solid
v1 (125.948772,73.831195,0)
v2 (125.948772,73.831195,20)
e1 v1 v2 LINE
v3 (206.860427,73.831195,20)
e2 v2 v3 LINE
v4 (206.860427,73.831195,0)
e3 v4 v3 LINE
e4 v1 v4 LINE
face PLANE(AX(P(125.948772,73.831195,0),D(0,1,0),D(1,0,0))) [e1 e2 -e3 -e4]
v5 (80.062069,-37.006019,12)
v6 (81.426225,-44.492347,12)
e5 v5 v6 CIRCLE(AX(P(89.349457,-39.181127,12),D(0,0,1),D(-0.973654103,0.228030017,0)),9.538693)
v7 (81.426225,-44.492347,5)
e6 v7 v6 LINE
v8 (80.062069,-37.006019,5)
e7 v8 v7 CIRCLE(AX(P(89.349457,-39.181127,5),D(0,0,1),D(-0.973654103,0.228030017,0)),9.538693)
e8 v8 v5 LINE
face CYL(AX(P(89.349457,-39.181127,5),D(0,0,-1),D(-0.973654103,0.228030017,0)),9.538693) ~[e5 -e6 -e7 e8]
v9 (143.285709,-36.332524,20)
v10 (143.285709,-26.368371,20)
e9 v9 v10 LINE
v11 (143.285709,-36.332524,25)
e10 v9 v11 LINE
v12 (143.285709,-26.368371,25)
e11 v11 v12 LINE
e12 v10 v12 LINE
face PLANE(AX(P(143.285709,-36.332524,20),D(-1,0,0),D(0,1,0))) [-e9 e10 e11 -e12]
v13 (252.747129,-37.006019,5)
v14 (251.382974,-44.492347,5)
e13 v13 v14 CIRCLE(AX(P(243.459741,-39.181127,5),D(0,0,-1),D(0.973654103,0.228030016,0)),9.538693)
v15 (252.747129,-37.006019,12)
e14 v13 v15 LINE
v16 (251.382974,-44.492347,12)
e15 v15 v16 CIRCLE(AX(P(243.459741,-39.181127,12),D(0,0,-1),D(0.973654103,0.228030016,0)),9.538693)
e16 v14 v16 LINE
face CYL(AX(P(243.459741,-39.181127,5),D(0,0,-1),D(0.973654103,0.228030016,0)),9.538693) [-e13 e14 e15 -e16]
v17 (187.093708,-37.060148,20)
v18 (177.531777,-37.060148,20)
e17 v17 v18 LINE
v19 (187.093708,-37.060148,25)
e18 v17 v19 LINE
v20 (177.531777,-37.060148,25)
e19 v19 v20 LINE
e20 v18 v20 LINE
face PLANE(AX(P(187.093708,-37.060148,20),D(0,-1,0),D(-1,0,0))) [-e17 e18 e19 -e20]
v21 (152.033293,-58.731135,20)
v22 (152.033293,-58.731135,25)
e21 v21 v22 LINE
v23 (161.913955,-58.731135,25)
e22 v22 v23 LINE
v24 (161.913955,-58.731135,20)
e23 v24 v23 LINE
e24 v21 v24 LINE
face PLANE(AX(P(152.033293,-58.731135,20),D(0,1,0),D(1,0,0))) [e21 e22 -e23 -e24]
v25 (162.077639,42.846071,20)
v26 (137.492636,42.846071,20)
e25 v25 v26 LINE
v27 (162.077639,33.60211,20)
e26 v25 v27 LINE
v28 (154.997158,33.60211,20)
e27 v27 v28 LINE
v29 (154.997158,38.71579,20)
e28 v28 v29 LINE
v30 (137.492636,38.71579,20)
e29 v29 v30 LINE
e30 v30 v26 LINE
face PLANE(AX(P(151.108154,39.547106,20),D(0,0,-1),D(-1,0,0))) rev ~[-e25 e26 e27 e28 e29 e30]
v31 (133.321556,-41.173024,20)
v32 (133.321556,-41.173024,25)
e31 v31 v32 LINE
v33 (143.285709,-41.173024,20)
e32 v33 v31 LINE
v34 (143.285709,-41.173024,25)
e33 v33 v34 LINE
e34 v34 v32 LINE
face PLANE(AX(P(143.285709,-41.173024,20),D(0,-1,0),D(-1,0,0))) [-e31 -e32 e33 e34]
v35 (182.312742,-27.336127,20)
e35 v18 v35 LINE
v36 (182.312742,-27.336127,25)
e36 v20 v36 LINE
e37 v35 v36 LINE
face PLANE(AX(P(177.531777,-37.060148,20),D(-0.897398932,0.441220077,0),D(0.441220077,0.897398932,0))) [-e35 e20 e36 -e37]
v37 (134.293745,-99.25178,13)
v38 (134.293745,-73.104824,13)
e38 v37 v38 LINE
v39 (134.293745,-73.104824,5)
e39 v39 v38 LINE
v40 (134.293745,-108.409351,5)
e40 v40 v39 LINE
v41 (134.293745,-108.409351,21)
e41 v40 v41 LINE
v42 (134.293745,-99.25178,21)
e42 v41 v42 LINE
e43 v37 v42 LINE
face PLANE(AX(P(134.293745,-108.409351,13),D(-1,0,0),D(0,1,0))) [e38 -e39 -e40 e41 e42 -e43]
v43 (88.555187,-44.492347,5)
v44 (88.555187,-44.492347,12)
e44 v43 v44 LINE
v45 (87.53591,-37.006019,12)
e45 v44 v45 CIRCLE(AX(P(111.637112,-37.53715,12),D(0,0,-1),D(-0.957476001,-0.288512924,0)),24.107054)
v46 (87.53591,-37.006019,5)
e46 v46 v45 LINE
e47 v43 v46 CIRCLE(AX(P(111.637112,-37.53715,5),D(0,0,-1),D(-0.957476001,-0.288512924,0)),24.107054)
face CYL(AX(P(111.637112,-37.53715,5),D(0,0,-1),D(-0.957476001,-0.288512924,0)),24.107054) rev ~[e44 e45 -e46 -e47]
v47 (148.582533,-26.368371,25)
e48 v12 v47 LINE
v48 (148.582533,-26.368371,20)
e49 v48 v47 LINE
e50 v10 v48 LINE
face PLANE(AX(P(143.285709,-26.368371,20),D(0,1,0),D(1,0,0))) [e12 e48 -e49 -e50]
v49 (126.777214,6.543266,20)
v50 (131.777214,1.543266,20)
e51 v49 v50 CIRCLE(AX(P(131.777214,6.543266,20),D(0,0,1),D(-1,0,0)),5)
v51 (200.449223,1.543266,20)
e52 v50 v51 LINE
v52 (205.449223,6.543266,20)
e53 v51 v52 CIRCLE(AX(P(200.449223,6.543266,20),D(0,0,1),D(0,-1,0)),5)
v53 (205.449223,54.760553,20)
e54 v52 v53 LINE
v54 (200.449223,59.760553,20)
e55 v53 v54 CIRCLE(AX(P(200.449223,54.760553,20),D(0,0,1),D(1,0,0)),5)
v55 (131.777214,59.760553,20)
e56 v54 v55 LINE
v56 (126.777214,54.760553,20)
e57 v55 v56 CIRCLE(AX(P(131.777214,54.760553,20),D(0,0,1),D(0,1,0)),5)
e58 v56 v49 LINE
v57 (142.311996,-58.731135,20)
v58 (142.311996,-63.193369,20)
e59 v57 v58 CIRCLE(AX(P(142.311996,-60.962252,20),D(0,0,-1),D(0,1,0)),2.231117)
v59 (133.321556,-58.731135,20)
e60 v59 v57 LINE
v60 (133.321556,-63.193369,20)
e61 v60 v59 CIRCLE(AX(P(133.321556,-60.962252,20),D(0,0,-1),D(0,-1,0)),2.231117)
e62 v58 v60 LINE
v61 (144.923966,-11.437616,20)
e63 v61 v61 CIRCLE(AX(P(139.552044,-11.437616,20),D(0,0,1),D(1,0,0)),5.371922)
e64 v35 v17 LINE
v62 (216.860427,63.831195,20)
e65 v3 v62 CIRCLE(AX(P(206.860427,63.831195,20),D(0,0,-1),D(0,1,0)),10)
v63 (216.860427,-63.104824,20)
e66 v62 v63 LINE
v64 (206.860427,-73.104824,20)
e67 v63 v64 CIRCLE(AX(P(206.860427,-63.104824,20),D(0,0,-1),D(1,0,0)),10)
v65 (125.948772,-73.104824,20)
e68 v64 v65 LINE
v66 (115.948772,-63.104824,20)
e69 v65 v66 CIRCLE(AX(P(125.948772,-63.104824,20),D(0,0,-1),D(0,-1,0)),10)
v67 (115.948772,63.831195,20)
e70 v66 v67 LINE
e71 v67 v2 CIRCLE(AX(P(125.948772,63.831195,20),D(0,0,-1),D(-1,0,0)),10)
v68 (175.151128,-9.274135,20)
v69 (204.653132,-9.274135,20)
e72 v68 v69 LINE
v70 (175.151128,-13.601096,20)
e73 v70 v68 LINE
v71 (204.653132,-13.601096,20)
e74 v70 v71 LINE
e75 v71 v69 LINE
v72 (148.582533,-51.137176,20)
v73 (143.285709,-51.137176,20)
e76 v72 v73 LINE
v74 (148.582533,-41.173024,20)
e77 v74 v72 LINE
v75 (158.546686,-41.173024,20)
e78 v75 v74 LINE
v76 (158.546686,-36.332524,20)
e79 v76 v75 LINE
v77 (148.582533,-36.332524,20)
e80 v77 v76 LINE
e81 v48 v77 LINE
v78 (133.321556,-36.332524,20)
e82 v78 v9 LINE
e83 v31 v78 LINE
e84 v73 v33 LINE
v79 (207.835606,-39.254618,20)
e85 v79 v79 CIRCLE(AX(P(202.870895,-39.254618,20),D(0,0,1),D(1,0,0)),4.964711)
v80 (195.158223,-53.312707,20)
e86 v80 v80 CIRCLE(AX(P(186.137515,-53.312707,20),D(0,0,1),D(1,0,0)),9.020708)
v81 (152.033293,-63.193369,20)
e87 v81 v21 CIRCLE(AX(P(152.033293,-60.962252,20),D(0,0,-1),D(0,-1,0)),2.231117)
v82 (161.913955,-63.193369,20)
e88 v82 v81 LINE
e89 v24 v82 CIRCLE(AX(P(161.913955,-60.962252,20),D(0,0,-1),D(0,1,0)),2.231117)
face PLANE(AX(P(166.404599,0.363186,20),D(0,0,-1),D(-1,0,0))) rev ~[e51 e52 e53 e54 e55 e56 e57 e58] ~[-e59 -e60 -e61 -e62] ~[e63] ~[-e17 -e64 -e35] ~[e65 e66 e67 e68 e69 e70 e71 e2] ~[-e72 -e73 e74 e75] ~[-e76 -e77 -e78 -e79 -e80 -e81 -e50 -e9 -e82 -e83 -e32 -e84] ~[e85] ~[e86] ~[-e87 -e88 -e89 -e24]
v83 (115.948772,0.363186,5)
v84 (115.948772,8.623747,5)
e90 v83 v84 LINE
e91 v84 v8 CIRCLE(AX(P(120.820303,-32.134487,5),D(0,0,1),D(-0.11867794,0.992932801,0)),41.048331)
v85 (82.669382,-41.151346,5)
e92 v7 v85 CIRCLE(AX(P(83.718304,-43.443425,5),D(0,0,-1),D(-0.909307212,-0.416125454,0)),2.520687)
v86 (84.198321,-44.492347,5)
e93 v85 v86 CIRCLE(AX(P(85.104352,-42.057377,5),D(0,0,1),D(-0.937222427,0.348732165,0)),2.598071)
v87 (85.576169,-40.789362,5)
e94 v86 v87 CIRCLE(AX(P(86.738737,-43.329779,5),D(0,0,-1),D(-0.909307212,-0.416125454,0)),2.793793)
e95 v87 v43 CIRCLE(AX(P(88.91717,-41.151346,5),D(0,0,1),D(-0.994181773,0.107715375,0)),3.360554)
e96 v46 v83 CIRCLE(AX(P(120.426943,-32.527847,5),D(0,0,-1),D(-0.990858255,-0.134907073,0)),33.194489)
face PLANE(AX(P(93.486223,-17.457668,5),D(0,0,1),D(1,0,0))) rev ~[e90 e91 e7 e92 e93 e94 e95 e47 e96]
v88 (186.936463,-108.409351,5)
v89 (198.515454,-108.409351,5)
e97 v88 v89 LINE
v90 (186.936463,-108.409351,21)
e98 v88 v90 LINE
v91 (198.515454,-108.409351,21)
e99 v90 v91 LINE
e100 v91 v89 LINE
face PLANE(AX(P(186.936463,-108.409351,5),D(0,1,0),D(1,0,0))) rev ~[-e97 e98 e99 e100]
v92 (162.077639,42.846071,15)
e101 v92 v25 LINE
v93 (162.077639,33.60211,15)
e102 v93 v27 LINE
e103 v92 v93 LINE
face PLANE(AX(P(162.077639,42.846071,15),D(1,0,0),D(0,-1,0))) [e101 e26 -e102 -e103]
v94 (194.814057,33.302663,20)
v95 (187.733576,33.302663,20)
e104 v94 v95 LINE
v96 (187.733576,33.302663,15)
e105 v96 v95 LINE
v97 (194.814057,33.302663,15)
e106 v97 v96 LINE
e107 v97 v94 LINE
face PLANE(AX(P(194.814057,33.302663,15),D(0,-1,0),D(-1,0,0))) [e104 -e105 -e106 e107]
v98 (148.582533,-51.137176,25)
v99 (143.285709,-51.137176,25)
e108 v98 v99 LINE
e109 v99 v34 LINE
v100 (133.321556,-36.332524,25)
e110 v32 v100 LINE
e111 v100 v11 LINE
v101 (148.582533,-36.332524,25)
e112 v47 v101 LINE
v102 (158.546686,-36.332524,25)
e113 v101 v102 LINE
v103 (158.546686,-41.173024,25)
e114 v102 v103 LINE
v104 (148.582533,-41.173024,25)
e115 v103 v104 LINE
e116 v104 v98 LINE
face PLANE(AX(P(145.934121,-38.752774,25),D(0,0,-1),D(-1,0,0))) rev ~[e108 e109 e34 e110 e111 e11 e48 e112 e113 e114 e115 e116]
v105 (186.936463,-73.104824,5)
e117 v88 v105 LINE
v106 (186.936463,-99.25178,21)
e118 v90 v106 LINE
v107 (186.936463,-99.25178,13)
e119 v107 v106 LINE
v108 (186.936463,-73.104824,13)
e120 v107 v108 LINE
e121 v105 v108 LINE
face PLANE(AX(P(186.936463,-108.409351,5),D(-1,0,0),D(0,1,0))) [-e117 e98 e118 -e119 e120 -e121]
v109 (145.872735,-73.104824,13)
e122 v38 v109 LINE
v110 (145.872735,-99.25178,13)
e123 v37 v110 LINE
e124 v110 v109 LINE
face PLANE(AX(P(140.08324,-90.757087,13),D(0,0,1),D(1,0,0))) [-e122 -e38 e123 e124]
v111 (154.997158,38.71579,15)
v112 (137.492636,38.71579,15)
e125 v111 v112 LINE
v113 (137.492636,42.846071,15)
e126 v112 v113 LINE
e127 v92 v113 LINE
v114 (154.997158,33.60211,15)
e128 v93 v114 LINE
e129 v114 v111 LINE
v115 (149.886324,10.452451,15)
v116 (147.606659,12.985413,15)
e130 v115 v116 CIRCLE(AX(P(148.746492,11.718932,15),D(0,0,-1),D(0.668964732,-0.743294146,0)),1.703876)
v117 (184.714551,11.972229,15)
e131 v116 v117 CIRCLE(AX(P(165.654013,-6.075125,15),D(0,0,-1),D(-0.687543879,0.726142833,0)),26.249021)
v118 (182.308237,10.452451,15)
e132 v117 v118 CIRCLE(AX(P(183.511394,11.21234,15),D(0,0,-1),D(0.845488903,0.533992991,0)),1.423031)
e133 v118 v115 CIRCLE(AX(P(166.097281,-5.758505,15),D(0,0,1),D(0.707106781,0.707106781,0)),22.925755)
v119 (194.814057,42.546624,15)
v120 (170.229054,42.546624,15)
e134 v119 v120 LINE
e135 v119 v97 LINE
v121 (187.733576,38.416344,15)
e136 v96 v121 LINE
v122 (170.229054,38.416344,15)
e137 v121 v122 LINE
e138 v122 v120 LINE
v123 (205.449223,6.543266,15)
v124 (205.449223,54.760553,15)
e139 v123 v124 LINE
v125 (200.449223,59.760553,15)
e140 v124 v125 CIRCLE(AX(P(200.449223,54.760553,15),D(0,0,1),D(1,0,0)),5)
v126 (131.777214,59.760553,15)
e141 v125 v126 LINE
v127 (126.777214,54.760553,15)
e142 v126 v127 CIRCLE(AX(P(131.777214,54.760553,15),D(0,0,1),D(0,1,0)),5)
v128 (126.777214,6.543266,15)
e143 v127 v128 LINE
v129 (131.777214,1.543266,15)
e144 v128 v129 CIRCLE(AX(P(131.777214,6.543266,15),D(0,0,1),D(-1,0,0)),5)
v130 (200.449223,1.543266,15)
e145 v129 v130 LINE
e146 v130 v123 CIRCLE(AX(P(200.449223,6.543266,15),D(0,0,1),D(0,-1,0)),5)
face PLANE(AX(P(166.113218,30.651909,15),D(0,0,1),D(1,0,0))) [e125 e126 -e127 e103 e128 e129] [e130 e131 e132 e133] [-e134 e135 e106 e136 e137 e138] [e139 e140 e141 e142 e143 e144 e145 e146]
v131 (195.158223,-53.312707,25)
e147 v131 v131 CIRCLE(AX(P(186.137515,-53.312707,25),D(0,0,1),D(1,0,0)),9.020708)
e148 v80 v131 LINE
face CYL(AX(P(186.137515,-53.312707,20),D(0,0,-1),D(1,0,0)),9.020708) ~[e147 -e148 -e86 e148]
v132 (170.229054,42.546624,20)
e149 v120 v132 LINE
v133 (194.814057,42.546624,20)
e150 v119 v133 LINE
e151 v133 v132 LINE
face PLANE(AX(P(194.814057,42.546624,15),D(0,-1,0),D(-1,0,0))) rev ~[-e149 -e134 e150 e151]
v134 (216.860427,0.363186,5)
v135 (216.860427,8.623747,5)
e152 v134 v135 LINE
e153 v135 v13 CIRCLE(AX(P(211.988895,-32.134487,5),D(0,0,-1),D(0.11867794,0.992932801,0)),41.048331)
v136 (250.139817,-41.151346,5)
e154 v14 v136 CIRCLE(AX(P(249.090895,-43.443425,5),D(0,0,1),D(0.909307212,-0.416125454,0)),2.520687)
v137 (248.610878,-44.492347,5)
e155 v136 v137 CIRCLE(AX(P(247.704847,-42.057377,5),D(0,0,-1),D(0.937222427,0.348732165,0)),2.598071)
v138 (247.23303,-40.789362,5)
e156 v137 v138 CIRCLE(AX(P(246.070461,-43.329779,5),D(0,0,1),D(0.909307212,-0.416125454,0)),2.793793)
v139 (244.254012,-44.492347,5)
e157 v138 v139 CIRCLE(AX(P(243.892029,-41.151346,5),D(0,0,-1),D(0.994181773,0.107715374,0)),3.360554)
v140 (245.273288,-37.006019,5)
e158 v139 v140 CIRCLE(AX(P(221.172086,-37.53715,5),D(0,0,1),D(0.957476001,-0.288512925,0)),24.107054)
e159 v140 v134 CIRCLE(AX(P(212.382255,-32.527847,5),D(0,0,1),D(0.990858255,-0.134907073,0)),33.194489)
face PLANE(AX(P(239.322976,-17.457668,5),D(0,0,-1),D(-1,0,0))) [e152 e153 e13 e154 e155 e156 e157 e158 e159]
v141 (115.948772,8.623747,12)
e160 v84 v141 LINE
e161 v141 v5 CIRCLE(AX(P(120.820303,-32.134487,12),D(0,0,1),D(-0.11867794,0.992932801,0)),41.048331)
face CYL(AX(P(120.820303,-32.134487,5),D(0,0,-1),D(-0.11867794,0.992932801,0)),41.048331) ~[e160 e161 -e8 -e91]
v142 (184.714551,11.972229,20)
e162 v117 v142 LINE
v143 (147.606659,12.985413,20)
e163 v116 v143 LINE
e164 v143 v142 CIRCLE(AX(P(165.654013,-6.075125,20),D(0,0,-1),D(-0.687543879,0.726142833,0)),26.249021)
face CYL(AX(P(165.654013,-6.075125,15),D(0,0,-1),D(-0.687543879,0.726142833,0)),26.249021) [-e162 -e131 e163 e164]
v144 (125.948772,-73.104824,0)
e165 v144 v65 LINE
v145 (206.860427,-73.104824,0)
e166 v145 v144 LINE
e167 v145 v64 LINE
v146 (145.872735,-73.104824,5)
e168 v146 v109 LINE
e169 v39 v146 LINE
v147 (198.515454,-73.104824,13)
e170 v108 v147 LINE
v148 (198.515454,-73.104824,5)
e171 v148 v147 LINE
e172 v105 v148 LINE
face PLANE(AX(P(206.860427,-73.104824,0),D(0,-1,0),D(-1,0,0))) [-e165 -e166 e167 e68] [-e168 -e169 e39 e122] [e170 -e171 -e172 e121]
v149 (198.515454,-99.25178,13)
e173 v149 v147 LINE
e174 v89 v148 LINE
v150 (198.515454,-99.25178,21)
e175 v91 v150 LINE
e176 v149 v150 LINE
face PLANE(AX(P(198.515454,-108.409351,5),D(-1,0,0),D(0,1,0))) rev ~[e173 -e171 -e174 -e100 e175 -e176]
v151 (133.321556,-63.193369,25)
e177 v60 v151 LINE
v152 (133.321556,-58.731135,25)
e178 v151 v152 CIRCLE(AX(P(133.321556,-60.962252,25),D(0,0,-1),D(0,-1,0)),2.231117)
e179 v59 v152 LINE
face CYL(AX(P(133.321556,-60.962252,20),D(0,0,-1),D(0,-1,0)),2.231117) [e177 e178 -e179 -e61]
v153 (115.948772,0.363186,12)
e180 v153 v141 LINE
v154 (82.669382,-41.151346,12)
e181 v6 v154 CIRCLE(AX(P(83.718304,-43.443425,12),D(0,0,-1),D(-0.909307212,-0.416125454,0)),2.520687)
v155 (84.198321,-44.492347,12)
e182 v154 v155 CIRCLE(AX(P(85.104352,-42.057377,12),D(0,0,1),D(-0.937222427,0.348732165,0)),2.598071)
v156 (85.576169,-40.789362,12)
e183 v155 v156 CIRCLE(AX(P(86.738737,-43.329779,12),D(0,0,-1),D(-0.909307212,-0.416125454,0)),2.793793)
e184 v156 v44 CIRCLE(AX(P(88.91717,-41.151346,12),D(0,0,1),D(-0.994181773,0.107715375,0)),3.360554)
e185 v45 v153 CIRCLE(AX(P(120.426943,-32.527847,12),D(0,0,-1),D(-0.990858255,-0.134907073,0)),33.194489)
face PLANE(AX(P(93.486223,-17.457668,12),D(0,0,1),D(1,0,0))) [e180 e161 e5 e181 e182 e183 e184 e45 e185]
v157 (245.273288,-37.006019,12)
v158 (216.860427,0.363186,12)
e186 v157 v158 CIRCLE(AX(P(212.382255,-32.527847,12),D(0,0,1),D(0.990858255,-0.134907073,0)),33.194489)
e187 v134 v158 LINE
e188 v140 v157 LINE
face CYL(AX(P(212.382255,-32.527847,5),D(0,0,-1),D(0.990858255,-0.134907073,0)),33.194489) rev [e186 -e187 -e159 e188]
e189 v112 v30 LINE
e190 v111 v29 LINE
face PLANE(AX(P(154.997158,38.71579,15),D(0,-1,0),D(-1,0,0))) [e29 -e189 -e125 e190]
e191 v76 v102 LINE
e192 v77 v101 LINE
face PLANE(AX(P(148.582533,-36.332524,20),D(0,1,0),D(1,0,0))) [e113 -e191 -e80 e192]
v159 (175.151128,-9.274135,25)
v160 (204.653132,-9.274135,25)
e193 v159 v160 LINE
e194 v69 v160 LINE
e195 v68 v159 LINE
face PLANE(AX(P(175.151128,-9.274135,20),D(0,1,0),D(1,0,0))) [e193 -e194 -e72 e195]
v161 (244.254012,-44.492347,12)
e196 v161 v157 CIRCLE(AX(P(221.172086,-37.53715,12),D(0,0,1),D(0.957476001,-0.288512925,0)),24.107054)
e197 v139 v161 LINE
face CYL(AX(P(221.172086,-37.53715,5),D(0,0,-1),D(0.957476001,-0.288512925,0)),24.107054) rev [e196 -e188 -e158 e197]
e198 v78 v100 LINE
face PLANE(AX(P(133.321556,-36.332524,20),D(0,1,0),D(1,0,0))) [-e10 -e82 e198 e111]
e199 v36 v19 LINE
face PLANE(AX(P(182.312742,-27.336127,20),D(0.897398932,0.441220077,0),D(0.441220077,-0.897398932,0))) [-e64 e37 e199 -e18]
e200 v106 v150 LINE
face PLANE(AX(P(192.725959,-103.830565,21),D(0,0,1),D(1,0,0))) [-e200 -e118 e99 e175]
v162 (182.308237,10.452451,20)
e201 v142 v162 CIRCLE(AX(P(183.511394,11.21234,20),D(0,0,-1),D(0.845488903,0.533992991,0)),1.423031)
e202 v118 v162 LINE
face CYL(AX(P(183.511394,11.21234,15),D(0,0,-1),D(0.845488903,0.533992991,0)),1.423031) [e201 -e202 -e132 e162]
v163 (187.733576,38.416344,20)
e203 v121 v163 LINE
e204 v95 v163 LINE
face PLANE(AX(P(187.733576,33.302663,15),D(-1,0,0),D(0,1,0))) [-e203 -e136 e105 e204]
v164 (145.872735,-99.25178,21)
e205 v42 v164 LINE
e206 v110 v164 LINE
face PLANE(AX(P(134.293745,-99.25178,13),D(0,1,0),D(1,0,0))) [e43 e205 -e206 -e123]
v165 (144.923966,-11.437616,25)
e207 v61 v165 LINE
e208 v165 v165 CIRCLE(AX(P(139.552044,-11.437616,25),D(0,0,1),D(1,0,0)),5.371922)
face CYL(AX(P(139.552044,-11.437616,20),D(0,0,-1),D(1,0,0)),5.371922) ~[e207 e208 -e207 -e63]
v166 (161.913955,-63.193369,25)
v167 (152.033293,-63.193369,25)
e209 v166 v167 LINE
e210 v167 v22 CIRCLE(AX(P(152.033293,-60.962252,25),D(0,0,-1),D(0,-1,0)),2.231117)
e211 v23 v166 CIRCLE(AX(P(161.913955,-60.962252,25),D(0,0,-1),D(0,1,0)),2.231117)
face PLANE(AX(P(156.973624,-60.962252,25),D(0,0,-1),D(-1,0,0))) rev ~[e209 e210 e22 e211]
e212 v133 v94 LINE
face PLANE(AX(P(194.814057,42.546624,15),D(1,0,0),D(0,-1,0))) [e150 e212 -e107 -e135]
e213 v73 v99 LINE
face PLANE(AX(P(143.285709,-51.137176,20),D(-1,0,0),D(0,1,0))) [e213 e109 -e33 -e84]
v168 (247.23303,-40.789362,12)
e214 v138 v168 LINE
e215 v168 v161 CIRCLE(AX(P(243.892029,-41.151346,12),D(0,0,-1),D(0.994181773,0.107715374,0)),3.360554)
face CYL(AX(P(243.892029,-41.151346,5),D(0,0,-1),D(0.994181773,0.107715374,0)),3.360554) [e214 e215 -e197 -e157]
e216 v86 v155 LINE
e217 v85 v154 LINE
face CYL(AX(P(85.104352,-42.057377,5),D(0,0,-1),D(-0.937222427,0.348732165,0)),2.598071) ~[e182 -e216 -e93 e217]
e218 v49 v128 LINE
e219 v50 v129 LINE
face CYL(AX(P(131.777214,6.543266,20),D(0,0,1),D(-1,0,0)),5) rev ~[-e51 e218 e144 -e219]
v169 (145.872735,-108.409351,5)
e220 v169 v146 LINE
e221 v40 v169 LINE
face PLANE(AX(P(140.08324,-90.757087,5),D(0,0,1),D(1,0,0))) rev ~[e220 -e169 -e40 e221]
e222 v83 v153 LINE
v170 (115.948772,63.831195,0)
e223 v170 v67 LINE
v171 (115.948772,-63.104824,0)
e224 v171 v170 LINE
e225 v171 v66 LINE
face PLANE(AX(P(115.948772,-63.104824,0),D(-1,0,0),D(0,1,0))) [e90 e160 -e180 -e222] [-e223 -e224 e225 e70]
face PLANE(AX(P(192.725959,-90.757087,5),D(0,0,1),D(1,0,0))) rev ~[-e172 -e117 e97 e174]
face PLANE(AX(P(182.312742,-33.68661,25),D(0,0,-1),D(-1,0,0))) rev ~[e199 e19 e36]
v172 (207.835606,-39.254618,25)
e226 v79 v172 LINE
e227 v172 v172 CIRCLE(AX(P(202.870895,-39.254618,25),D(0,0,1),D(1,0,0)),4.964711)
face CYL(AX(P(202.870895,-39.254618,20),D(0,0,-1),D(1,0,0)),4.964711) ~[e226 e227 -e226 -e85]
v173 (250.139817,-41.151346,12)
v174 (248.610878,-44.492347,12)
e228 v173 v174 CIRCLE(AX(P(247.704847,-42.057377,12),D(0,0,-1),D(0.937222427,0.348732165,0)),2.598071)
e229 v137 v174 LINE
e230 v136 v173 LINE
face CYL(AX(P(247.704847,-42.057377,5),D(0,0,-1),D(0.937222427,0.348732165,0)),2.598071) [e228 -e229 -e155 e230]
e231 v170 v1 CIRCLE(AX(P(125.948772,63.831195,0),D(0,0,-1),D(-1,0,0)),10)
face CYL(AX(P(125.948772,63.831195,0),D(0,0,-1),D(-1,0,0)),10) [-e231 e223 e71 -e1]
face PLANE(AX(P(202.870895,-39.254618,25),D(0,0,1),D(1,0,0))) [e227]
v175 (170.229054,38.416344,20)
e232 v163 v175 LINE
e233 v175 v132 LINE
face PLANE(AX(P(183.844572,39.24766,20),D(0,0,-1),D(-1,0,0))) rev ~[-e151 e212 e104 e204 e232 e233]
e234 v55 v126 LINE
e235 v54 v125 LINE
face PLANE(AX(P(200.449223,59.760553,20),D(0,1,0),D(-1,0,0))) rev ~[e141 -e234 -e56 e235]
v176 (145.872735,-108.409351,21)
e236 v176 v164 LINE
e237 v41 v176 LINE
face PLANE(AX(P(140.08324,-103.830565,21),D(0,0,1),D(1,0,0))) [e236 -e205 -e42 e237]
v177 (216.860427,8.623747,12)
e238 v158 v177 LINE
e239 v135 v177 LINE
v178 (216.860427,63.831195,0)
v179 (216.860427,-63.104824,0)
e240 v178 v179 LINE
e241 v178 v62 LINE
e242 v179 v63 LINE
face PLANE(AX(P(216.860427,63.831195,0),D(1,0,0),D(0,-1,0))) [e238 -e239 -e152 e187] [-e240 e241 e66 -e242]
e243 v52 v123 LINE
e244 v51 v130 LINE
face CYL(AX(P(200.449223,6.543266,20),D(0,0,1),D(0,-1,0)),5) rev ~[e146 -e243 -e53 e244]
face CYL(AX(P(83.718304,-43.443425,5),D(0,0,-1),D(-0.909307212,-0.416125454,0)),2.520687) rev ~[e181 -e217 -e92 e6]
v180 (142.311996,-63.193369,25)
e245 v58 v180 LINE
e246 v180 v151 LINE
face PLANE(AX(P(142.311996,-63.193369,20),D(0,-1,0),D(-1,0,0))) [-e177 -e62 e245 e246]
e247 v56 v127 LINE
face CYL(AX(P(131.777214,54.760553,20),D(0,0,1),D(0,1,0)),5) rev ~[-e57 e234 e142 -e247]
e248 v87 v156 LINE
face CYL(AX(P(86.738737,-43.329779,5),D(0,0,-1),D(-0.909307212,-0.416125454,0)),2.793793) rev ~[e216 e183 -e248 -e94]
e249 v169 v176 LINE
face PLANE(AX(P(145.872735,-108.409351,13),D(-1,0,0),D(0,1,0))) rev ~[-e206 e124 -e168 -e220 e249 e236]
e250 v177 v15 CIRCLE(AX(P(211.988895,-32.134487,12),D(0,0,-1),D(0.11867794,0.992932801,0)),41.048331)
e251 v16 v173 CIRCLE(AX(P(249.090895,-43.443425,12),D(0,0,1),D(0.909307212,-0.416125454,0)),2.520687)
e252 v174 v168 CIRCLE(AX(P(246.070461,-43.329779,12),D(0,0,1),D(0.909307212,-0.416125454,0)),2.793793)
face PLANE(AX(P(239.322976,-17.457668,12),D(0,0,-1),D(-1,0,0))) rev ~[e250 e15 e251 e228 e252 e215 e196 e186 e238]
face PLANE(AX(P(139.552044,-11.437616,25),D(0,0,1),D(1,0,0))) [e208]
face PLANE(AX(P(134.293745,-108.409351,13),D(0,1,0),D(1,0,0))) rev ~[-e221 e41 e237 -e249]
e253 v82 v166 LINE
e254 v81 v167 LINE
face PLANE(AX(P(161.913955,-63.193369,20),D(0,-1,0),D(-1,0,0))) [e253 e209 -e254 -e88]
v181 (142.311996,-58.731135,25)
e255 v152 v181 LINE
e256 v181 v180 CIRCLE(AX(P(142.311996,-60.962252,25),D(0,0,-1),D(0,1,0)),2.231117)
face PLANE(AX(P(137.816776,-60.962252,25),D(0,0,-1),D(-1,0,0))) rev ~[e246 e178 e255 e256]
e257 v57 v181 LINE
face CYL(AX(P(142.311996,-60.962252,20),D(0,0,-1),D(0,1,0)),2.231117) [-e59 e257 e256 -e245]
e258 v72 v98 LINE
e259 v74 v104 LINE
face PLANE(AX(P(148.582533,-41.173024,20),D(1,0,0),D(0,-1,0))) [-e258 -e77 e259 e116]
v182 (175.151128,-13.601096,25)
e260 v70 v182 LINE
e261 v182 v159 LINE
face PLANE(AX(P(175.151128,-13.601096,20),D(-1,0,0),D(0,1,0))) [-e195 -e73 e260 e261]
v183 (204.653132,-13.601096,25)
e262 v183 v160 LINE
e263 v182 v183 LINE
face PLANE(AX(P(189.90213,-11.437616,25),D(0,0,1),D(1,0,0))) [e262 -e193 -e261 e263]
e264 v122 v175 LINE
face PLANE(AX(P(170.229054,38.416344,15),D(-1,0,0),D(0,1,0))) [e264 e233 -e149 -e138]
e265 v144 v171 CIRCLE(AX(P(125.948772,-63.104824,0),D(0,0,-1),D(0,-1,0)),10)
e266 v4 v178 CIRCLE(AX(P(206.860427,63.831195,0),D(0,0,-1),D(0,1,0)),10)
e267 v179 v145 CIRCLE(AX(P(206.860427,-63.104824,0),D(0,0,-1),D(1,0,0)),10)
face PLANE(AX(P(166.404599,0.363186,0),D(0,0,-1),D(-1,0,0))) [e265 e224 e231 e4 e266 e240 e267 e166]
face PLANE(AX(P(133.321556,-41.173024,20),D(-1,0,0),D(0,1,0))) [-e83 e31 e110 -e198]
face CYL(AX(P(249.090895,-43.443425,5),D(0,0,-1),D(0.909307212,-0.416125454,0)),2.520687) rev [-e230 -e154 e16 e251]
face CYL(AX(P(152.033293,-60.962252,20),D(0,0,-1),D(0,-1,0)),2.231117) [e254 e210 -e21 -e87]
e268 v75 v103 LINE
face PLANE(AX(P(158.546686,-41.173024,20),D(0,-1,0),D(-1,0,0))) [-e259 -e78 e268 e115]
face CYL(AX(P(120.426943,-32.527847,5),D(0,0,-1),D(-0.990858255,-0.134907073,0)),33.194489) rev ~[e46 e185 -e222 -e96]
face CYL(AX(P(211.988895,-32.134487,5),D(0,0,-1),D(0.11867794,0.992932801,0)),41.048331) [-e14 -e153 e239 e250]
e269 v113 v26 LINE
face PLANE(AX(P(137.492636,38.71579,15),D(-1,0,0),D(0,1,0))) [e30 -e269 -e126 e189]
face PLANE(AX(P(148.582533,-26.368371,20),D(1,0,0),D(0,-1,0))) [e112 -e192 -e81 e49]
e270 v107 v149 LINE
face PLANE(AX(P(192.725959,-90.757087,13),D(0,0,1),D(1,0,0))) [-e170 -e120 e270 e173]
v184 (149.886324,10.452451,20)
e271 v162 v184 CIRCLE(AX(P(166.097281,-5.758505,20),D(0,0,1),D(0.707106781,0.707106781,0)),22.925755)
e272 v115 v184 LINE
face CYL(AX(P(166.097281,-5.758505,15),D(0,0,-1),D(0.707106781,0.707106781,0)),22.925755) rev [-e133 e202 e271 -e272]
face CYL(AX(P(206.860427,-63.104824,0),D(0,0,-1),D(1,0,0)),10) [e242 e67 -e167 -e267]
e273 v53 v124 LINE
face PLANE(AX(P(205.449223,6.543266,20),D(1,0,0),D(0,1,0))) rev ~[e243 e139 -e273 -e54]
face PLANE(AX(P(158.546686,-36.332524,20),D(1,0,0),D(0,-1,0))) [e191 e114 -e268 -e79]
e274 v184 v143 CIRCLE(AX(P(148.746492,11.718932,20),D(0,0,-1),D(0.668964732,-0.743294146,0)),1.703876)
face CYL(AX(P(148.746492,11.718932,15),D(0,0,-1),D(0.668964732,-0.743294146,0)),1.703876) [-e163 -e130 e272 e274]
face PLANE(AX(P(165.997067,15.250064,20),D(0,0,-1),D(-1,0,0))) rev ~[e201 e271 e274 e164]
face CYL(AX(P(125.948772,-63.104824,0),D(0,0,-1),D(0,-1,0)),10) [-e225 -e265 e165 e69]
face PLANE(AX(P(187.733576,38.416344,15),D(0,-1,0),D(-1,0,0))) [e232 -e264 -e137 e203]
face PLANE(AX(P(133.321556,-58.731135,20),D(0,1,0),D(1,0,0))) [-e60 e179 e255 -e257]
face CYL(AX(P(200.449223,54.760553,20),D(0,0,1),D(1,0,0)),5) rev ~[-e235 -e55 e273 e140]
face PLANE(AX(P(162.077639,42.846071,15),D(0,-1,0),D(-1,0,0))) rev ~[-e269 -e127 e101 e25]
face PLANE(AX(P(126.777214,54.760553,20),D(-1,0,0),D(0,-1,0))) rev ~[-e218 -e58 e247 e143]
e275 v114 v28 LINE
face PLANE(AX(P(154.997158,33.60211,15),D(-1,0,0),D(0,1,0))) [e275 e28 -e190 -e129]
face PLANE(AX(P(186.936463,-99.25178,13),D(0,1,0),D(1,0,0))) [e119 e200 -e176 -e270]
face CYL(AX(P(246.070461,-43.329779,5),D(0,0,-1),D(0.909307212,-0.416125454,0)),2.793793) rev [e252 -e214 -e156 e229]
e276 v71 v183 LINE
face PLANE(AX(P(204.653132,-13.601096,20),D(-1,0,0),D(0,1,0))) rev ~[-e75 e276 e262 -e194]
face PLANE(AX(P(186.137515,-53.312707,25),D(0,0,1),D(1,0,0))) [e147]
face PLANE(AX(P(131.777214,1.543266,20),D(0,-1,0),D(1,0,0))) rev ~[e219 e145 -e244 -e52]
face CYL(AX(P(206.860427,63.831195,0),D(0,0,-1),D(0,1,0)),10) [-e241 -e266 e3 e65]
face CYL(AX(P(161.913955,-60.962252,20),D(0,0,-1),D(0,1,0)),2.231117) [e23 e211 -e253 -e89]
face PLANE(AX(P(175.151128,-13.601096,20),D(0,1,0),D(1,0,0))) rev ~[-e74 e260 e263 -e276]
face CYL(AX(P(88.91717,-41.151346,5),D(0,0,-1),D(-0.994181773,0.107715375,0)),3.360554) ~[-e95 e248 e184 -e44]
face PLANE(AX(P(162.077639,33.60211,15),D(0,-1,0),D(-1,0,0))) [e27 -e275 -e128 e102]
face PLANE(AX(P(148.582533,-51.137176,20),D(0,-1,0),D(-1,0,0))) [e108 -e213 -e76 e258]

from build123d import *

# Parameters (mm, degrees)
SALIENTE_EXTRUIR1_DEPTH = 20
CORTAR_EXTRUIR1_DEPTH   = 5
CROQUIS4_R              = 5.371921572
CROQUIS4_R_2            = 4.964711246
CROQUIS4_R_3            = 9.020708029
CROQUIS4_W              = 29.502003405
CROQUIS4_H              = 4.3269605
SALIENTE_EXTRUIR2_DEPTH = 5
SALIENTE_EXTRUIR3_DEPTH = 7
SALIENTE_EXTRUIR4_DEPTH = 5
CROQUIS8_W              = 11.57899057
CROQUIS8_H              = 35.30452721
CROQUIS8_W_2            = 11.578990571
SALIENTE_EXTRUIR5_DEPTH = 8
CROQUIS10_W             = 11.578990571
CROQUIS10_H             = 9.157571022
CROQUIS10_W_2           = 11.57899057
SALIENTE_EXTRUIR6_DEPTH = 8


with BuildPart() as part:
    # Croquis2 → Saliente-Extruir1 (new body)
    with BuildSketch(Plane.XY):
        with BuildLine():
            Line((125.948771998, 73.831195148), (206.860426755, 73.831195148))
            ThreePointArc((206.860426755, 73.831195148), (213.931494567, 70.90226296), (216.860426755, 63.831195148))
            Line((216.860426755, 63.831195148), (216.860426755, -63.104823524))
            ThreePointArc((216.860426755, -63.104823524), (213.931494567, -70.175891336), (206.860426755, -73.104823524))
            Line((206.860426755, -73.104823524), (125.948771998, -73.104823524))
            ThreePointArc((125.948771998, -73.104823524), (118.877704186, -70.175891336), (115.948771998, -63.104823524))
            Line((115.948771998, -63.104823524), (115.948771998, 63.831195148))
            ThreePointArc((115.948771998, 63.831195148), (118.877704186, 70.90226296), (125.948771998, 73.831195148))
        make_face()
    extrude(amount=SALIENTE_EXTRUIR1_DEPTH)

    # Croquis3 → Cortar-Extruir1 (cut)
    with BuildSketch(Plane.XY.offset(20)):
        with BuildLine():
            Line((131.777213557, 1.543265948), (200.449222637, 1.543265948))
            ThreePointArc((200.449222637, 1.543265948), (203.984756543, 3.007732042), (205.449222637, 6.543265948))
            Line((205.449222637, 6.543265948), (205.449222637, 54.760552668))
            ThreePointArc((205.449222637, 54.760552668), (203.984756543, 58.296086574), (200.449222637, 59.760552668))
            Line((200.449222637, 59.760552668), (131.777213557, 59.760552668))
            ThreePointArc((131.777213557, 59.760552668), (128.241679651, 58.296086574), (126.777213557, 54.760552668))
            Line((126.777213557, 54.760552668), (126.777213557, 6.543265948))
            ThreePointArc((126.777213557, 6.543265948), (128.241679651, 3.007732042), (131.777213557, 1.543265948))
        make_face()
    extrude(amount=-CORTAR_EXTRUIR1_DEPTH, mode=Mode.SUBTRACT)

    # Croquis4 → Saliente-Extruir2 (add)
    with BuildSketch(Plane.XY.offset(20)):
        with Locations((139.552044207, -11.43761555)):
            Circle(CROQUIS4_R)
        with Locations((202.870894741, -39.254617567)):
            Circle(CROQUIS4_R_2)
        with Locations((186.137514813, -53.312706969)):
            Circle(CROQUIS4_R_3)
        with Locations((189.902130019, -11.43761555)):
            Rectangle(CROQUIS4_W, CROQUIS4_H)
        Polygon((143.285708697, -26.368371403), (148.582533347, -26.368371403), (148.582533347, -36.332523638), (158.546685582, -36.332523638), (158.546685582, -41.173023795), (148.582533347, -41.173023795), (148.582533347, -51.13717603), (143.285708697, -51.13717603), (143.285708697, -41.173023795), (133.321556462, -41.173023795), (133.321556462, -36.332523638), (143.285708697, -36.332523638), align=None)
        Polygon((177.531776564, -37.06014818), (182.312742258, -27.3361267), (187.093707951, -37.06014818), align=None)
        with BuildLine():
            Line((133.321556462, -58.731134755), (142.311995954, -58.731134755))
            ThreePointArc((142.311995954, -58.731134755), (144.543113278, -60.962252079), (142.311995954, -63.193369403))
            Line((142.311995954, -63.193369403), (133.321556462, -63.193369403))
            ThreePointArc((133.321556462, -63.193369403), (131.090439139, -60.962252079), (133.321556462, -58.731134755))
        make_face()
        with BuildLine():
            Line((152.033292864, -58.731134755), (161.913955298, -58.731134755))
            ThreePointArc((161.913955298, -58.731134755), (164.145072622, -60.962252079), (161.913955298, -63.193369403))
            Line((161.913955298, -63.193369403), (152.033292864, -63.193369403))
            ThreePointArc((152.033292864, -63.193369403), (149.802175541, -60.962252079), (152.033292864, -58.731134755))
        make_face()
    extrude(amount=SALIENTE_EXTRUIR2_DEPTH)

    # Croquis5 → Saliente-Extruir3 (add)
    with BuildSketch(Plane.XY.offset(5)):
        with BuildLine():
            Line((216.860426755, 0.363185812), (216.860426755, 8.623746765))
            ThreePointArc((216.860426755, 8.623746765), (244.254011859, -6.758756408), (252.747129342, -37.006018501))
            ThreePointArc((252.747129342, -37.006018501), (252.843911184, -40.891106139), (251.382973951, -44.492346907))
            ThreePointArc((251.382973951, -44.492346907), (251.453339476, -42.564380052), (250.139816979, -41.151345675))
            ThreePointArc((250.139816979, -41.151345675), (250.067291272, -43.138500016), (248.610877543, -44.492346907))
            ThreePointArc((248.610877543, -44.492346907), (248.688866874, -42.355493028), (247.233029791, -40.789362374))
            ThreePointArc((247.233029791, -40.789362374), (246.510434032, -43.257829455), (244.254011859, -44.492346907))
            ThreePointArc((244.254011859, -44.492346907), (245.058759657, -40.789362374), (245.273288479, -37.006018501))
            ThreePointArc((245.273288479, -37.006018501), (238.806273238, -12.436920009), (216.860426755, 0.363185812))
        make_face()
        with BuildLine():
            Line((115.948771998, 0.363185812), (115.948771998, 8.623746765))
            ThreePointArc((115.948771998, 8.623746765), (88.555186894, -6.758756408), (80.062069411, -37.006018501))
            ThreePointArc((80.062069411, -37.006018501), (79.965287568, -40.891106139), (81.426224802, -44.492346907))
            ThreePointArc((81.426224802, -44.492346907), (81.355859277, -42.564380052), (82.669381774, -41.151345675))
            ThreePointArc((82.669381774, -41.151345675), (82.741907481, -43.138500016), (84.19832121, -44.492346907))
            ThreePointArc((84.19832121, -44.492346907), (84.120331879, -42.355493028), (85.576168962, -40.789362374))
            ThreePointArc((85.576168962, -40.789362374), (86.29876472, -43.257829455), (88.555186894, -44.492346907))
            ThreePointArc((88.555186894, -44.492346907), (87.750439096, -40.789362374), (87.535910273, -37.006018501))
            ThreePointArc((87.535910273, -37.006018501), (94.002925515, -12.436920009), (115.948771998, 0.363185812))
        make_face()
    extrude(amount=SALIENTE_EXTRUIR3_DEPTH)

    # Croquis6 → Saliente-Extruir4 (add)
    with BuildSketch(Plane.XY.offset(15)):
        Polygon((170.229054201, 42.546624397), (187.733576221, 42.546624397), (194.814057039, 42.546624397), (194.814057039, 33.30266333), (187.733576221, 33.30266333), (187.733576221, 38.41634392), (170.229054201, 38.41634392), align=None)
        Polygon((137.492636039, 42.846070715), (154.99715806, 42.846070715), (162.077638877, 42.846070715), (162.077638877, 33.602109648), (154.99715806, 33.602109648), (154.99715806, 38.715790239), (137.492636039, 38.715790239), align=None)
        with BuildLine():
            ThreePointArc((147.606658689, 12.985413335), (166.370442462, 20.164117151), (184.714551358, 11.972228552))
            ThreePointArc((184.714551358, 11.972228552), (184.271283015, 10.009183036), (182.308237498, 10.452451378))
            ThreePointArc((182.308237498, 10.452451378), (166.097280974, 17.16724943), (149.88632445, 10.452451378))
            ThreePointArc((149.88632445, 10.452451378), (147.480010591, 10.579099476), (147.606658689, 12.985413335))
        make_face()
    extrude(amount=SALIENTE_EXTRUIR4_DEPTH)

    # Croquis8 → Saliente-Extruir5 (add)
    with BuildSketch(Plane.XY.offset(5)):
        with Locations((192.725958616, -90.757087129)):
            Rectangle(CROQUIS8_W, CROQUIS8_H)
        with Locations((140.083240137, -90.757087129)):
            Rectangle(CROQUIS8_W_2, CROQUIS8_H)
    extrude(amount=SALIENTE_EXTRUIR5_DEPTH)

    # Croquis10 → Saliente-Extruir6 (add)
    with BuildSketch(Plane.XY.offset(13)):
        with Locations((140.083240137, -103.830565223)):
            Rectangle(CROQUIS10_W, CROQUIS10_H)
        with Locations((192.725958616, -103.830565223)):
            Rectangle(CROQUIS10_W_2, CROQUIS10_H)
    extrude(amount=SALIENTE_EXTRUIR6_DEPTH)


solid = part.part
